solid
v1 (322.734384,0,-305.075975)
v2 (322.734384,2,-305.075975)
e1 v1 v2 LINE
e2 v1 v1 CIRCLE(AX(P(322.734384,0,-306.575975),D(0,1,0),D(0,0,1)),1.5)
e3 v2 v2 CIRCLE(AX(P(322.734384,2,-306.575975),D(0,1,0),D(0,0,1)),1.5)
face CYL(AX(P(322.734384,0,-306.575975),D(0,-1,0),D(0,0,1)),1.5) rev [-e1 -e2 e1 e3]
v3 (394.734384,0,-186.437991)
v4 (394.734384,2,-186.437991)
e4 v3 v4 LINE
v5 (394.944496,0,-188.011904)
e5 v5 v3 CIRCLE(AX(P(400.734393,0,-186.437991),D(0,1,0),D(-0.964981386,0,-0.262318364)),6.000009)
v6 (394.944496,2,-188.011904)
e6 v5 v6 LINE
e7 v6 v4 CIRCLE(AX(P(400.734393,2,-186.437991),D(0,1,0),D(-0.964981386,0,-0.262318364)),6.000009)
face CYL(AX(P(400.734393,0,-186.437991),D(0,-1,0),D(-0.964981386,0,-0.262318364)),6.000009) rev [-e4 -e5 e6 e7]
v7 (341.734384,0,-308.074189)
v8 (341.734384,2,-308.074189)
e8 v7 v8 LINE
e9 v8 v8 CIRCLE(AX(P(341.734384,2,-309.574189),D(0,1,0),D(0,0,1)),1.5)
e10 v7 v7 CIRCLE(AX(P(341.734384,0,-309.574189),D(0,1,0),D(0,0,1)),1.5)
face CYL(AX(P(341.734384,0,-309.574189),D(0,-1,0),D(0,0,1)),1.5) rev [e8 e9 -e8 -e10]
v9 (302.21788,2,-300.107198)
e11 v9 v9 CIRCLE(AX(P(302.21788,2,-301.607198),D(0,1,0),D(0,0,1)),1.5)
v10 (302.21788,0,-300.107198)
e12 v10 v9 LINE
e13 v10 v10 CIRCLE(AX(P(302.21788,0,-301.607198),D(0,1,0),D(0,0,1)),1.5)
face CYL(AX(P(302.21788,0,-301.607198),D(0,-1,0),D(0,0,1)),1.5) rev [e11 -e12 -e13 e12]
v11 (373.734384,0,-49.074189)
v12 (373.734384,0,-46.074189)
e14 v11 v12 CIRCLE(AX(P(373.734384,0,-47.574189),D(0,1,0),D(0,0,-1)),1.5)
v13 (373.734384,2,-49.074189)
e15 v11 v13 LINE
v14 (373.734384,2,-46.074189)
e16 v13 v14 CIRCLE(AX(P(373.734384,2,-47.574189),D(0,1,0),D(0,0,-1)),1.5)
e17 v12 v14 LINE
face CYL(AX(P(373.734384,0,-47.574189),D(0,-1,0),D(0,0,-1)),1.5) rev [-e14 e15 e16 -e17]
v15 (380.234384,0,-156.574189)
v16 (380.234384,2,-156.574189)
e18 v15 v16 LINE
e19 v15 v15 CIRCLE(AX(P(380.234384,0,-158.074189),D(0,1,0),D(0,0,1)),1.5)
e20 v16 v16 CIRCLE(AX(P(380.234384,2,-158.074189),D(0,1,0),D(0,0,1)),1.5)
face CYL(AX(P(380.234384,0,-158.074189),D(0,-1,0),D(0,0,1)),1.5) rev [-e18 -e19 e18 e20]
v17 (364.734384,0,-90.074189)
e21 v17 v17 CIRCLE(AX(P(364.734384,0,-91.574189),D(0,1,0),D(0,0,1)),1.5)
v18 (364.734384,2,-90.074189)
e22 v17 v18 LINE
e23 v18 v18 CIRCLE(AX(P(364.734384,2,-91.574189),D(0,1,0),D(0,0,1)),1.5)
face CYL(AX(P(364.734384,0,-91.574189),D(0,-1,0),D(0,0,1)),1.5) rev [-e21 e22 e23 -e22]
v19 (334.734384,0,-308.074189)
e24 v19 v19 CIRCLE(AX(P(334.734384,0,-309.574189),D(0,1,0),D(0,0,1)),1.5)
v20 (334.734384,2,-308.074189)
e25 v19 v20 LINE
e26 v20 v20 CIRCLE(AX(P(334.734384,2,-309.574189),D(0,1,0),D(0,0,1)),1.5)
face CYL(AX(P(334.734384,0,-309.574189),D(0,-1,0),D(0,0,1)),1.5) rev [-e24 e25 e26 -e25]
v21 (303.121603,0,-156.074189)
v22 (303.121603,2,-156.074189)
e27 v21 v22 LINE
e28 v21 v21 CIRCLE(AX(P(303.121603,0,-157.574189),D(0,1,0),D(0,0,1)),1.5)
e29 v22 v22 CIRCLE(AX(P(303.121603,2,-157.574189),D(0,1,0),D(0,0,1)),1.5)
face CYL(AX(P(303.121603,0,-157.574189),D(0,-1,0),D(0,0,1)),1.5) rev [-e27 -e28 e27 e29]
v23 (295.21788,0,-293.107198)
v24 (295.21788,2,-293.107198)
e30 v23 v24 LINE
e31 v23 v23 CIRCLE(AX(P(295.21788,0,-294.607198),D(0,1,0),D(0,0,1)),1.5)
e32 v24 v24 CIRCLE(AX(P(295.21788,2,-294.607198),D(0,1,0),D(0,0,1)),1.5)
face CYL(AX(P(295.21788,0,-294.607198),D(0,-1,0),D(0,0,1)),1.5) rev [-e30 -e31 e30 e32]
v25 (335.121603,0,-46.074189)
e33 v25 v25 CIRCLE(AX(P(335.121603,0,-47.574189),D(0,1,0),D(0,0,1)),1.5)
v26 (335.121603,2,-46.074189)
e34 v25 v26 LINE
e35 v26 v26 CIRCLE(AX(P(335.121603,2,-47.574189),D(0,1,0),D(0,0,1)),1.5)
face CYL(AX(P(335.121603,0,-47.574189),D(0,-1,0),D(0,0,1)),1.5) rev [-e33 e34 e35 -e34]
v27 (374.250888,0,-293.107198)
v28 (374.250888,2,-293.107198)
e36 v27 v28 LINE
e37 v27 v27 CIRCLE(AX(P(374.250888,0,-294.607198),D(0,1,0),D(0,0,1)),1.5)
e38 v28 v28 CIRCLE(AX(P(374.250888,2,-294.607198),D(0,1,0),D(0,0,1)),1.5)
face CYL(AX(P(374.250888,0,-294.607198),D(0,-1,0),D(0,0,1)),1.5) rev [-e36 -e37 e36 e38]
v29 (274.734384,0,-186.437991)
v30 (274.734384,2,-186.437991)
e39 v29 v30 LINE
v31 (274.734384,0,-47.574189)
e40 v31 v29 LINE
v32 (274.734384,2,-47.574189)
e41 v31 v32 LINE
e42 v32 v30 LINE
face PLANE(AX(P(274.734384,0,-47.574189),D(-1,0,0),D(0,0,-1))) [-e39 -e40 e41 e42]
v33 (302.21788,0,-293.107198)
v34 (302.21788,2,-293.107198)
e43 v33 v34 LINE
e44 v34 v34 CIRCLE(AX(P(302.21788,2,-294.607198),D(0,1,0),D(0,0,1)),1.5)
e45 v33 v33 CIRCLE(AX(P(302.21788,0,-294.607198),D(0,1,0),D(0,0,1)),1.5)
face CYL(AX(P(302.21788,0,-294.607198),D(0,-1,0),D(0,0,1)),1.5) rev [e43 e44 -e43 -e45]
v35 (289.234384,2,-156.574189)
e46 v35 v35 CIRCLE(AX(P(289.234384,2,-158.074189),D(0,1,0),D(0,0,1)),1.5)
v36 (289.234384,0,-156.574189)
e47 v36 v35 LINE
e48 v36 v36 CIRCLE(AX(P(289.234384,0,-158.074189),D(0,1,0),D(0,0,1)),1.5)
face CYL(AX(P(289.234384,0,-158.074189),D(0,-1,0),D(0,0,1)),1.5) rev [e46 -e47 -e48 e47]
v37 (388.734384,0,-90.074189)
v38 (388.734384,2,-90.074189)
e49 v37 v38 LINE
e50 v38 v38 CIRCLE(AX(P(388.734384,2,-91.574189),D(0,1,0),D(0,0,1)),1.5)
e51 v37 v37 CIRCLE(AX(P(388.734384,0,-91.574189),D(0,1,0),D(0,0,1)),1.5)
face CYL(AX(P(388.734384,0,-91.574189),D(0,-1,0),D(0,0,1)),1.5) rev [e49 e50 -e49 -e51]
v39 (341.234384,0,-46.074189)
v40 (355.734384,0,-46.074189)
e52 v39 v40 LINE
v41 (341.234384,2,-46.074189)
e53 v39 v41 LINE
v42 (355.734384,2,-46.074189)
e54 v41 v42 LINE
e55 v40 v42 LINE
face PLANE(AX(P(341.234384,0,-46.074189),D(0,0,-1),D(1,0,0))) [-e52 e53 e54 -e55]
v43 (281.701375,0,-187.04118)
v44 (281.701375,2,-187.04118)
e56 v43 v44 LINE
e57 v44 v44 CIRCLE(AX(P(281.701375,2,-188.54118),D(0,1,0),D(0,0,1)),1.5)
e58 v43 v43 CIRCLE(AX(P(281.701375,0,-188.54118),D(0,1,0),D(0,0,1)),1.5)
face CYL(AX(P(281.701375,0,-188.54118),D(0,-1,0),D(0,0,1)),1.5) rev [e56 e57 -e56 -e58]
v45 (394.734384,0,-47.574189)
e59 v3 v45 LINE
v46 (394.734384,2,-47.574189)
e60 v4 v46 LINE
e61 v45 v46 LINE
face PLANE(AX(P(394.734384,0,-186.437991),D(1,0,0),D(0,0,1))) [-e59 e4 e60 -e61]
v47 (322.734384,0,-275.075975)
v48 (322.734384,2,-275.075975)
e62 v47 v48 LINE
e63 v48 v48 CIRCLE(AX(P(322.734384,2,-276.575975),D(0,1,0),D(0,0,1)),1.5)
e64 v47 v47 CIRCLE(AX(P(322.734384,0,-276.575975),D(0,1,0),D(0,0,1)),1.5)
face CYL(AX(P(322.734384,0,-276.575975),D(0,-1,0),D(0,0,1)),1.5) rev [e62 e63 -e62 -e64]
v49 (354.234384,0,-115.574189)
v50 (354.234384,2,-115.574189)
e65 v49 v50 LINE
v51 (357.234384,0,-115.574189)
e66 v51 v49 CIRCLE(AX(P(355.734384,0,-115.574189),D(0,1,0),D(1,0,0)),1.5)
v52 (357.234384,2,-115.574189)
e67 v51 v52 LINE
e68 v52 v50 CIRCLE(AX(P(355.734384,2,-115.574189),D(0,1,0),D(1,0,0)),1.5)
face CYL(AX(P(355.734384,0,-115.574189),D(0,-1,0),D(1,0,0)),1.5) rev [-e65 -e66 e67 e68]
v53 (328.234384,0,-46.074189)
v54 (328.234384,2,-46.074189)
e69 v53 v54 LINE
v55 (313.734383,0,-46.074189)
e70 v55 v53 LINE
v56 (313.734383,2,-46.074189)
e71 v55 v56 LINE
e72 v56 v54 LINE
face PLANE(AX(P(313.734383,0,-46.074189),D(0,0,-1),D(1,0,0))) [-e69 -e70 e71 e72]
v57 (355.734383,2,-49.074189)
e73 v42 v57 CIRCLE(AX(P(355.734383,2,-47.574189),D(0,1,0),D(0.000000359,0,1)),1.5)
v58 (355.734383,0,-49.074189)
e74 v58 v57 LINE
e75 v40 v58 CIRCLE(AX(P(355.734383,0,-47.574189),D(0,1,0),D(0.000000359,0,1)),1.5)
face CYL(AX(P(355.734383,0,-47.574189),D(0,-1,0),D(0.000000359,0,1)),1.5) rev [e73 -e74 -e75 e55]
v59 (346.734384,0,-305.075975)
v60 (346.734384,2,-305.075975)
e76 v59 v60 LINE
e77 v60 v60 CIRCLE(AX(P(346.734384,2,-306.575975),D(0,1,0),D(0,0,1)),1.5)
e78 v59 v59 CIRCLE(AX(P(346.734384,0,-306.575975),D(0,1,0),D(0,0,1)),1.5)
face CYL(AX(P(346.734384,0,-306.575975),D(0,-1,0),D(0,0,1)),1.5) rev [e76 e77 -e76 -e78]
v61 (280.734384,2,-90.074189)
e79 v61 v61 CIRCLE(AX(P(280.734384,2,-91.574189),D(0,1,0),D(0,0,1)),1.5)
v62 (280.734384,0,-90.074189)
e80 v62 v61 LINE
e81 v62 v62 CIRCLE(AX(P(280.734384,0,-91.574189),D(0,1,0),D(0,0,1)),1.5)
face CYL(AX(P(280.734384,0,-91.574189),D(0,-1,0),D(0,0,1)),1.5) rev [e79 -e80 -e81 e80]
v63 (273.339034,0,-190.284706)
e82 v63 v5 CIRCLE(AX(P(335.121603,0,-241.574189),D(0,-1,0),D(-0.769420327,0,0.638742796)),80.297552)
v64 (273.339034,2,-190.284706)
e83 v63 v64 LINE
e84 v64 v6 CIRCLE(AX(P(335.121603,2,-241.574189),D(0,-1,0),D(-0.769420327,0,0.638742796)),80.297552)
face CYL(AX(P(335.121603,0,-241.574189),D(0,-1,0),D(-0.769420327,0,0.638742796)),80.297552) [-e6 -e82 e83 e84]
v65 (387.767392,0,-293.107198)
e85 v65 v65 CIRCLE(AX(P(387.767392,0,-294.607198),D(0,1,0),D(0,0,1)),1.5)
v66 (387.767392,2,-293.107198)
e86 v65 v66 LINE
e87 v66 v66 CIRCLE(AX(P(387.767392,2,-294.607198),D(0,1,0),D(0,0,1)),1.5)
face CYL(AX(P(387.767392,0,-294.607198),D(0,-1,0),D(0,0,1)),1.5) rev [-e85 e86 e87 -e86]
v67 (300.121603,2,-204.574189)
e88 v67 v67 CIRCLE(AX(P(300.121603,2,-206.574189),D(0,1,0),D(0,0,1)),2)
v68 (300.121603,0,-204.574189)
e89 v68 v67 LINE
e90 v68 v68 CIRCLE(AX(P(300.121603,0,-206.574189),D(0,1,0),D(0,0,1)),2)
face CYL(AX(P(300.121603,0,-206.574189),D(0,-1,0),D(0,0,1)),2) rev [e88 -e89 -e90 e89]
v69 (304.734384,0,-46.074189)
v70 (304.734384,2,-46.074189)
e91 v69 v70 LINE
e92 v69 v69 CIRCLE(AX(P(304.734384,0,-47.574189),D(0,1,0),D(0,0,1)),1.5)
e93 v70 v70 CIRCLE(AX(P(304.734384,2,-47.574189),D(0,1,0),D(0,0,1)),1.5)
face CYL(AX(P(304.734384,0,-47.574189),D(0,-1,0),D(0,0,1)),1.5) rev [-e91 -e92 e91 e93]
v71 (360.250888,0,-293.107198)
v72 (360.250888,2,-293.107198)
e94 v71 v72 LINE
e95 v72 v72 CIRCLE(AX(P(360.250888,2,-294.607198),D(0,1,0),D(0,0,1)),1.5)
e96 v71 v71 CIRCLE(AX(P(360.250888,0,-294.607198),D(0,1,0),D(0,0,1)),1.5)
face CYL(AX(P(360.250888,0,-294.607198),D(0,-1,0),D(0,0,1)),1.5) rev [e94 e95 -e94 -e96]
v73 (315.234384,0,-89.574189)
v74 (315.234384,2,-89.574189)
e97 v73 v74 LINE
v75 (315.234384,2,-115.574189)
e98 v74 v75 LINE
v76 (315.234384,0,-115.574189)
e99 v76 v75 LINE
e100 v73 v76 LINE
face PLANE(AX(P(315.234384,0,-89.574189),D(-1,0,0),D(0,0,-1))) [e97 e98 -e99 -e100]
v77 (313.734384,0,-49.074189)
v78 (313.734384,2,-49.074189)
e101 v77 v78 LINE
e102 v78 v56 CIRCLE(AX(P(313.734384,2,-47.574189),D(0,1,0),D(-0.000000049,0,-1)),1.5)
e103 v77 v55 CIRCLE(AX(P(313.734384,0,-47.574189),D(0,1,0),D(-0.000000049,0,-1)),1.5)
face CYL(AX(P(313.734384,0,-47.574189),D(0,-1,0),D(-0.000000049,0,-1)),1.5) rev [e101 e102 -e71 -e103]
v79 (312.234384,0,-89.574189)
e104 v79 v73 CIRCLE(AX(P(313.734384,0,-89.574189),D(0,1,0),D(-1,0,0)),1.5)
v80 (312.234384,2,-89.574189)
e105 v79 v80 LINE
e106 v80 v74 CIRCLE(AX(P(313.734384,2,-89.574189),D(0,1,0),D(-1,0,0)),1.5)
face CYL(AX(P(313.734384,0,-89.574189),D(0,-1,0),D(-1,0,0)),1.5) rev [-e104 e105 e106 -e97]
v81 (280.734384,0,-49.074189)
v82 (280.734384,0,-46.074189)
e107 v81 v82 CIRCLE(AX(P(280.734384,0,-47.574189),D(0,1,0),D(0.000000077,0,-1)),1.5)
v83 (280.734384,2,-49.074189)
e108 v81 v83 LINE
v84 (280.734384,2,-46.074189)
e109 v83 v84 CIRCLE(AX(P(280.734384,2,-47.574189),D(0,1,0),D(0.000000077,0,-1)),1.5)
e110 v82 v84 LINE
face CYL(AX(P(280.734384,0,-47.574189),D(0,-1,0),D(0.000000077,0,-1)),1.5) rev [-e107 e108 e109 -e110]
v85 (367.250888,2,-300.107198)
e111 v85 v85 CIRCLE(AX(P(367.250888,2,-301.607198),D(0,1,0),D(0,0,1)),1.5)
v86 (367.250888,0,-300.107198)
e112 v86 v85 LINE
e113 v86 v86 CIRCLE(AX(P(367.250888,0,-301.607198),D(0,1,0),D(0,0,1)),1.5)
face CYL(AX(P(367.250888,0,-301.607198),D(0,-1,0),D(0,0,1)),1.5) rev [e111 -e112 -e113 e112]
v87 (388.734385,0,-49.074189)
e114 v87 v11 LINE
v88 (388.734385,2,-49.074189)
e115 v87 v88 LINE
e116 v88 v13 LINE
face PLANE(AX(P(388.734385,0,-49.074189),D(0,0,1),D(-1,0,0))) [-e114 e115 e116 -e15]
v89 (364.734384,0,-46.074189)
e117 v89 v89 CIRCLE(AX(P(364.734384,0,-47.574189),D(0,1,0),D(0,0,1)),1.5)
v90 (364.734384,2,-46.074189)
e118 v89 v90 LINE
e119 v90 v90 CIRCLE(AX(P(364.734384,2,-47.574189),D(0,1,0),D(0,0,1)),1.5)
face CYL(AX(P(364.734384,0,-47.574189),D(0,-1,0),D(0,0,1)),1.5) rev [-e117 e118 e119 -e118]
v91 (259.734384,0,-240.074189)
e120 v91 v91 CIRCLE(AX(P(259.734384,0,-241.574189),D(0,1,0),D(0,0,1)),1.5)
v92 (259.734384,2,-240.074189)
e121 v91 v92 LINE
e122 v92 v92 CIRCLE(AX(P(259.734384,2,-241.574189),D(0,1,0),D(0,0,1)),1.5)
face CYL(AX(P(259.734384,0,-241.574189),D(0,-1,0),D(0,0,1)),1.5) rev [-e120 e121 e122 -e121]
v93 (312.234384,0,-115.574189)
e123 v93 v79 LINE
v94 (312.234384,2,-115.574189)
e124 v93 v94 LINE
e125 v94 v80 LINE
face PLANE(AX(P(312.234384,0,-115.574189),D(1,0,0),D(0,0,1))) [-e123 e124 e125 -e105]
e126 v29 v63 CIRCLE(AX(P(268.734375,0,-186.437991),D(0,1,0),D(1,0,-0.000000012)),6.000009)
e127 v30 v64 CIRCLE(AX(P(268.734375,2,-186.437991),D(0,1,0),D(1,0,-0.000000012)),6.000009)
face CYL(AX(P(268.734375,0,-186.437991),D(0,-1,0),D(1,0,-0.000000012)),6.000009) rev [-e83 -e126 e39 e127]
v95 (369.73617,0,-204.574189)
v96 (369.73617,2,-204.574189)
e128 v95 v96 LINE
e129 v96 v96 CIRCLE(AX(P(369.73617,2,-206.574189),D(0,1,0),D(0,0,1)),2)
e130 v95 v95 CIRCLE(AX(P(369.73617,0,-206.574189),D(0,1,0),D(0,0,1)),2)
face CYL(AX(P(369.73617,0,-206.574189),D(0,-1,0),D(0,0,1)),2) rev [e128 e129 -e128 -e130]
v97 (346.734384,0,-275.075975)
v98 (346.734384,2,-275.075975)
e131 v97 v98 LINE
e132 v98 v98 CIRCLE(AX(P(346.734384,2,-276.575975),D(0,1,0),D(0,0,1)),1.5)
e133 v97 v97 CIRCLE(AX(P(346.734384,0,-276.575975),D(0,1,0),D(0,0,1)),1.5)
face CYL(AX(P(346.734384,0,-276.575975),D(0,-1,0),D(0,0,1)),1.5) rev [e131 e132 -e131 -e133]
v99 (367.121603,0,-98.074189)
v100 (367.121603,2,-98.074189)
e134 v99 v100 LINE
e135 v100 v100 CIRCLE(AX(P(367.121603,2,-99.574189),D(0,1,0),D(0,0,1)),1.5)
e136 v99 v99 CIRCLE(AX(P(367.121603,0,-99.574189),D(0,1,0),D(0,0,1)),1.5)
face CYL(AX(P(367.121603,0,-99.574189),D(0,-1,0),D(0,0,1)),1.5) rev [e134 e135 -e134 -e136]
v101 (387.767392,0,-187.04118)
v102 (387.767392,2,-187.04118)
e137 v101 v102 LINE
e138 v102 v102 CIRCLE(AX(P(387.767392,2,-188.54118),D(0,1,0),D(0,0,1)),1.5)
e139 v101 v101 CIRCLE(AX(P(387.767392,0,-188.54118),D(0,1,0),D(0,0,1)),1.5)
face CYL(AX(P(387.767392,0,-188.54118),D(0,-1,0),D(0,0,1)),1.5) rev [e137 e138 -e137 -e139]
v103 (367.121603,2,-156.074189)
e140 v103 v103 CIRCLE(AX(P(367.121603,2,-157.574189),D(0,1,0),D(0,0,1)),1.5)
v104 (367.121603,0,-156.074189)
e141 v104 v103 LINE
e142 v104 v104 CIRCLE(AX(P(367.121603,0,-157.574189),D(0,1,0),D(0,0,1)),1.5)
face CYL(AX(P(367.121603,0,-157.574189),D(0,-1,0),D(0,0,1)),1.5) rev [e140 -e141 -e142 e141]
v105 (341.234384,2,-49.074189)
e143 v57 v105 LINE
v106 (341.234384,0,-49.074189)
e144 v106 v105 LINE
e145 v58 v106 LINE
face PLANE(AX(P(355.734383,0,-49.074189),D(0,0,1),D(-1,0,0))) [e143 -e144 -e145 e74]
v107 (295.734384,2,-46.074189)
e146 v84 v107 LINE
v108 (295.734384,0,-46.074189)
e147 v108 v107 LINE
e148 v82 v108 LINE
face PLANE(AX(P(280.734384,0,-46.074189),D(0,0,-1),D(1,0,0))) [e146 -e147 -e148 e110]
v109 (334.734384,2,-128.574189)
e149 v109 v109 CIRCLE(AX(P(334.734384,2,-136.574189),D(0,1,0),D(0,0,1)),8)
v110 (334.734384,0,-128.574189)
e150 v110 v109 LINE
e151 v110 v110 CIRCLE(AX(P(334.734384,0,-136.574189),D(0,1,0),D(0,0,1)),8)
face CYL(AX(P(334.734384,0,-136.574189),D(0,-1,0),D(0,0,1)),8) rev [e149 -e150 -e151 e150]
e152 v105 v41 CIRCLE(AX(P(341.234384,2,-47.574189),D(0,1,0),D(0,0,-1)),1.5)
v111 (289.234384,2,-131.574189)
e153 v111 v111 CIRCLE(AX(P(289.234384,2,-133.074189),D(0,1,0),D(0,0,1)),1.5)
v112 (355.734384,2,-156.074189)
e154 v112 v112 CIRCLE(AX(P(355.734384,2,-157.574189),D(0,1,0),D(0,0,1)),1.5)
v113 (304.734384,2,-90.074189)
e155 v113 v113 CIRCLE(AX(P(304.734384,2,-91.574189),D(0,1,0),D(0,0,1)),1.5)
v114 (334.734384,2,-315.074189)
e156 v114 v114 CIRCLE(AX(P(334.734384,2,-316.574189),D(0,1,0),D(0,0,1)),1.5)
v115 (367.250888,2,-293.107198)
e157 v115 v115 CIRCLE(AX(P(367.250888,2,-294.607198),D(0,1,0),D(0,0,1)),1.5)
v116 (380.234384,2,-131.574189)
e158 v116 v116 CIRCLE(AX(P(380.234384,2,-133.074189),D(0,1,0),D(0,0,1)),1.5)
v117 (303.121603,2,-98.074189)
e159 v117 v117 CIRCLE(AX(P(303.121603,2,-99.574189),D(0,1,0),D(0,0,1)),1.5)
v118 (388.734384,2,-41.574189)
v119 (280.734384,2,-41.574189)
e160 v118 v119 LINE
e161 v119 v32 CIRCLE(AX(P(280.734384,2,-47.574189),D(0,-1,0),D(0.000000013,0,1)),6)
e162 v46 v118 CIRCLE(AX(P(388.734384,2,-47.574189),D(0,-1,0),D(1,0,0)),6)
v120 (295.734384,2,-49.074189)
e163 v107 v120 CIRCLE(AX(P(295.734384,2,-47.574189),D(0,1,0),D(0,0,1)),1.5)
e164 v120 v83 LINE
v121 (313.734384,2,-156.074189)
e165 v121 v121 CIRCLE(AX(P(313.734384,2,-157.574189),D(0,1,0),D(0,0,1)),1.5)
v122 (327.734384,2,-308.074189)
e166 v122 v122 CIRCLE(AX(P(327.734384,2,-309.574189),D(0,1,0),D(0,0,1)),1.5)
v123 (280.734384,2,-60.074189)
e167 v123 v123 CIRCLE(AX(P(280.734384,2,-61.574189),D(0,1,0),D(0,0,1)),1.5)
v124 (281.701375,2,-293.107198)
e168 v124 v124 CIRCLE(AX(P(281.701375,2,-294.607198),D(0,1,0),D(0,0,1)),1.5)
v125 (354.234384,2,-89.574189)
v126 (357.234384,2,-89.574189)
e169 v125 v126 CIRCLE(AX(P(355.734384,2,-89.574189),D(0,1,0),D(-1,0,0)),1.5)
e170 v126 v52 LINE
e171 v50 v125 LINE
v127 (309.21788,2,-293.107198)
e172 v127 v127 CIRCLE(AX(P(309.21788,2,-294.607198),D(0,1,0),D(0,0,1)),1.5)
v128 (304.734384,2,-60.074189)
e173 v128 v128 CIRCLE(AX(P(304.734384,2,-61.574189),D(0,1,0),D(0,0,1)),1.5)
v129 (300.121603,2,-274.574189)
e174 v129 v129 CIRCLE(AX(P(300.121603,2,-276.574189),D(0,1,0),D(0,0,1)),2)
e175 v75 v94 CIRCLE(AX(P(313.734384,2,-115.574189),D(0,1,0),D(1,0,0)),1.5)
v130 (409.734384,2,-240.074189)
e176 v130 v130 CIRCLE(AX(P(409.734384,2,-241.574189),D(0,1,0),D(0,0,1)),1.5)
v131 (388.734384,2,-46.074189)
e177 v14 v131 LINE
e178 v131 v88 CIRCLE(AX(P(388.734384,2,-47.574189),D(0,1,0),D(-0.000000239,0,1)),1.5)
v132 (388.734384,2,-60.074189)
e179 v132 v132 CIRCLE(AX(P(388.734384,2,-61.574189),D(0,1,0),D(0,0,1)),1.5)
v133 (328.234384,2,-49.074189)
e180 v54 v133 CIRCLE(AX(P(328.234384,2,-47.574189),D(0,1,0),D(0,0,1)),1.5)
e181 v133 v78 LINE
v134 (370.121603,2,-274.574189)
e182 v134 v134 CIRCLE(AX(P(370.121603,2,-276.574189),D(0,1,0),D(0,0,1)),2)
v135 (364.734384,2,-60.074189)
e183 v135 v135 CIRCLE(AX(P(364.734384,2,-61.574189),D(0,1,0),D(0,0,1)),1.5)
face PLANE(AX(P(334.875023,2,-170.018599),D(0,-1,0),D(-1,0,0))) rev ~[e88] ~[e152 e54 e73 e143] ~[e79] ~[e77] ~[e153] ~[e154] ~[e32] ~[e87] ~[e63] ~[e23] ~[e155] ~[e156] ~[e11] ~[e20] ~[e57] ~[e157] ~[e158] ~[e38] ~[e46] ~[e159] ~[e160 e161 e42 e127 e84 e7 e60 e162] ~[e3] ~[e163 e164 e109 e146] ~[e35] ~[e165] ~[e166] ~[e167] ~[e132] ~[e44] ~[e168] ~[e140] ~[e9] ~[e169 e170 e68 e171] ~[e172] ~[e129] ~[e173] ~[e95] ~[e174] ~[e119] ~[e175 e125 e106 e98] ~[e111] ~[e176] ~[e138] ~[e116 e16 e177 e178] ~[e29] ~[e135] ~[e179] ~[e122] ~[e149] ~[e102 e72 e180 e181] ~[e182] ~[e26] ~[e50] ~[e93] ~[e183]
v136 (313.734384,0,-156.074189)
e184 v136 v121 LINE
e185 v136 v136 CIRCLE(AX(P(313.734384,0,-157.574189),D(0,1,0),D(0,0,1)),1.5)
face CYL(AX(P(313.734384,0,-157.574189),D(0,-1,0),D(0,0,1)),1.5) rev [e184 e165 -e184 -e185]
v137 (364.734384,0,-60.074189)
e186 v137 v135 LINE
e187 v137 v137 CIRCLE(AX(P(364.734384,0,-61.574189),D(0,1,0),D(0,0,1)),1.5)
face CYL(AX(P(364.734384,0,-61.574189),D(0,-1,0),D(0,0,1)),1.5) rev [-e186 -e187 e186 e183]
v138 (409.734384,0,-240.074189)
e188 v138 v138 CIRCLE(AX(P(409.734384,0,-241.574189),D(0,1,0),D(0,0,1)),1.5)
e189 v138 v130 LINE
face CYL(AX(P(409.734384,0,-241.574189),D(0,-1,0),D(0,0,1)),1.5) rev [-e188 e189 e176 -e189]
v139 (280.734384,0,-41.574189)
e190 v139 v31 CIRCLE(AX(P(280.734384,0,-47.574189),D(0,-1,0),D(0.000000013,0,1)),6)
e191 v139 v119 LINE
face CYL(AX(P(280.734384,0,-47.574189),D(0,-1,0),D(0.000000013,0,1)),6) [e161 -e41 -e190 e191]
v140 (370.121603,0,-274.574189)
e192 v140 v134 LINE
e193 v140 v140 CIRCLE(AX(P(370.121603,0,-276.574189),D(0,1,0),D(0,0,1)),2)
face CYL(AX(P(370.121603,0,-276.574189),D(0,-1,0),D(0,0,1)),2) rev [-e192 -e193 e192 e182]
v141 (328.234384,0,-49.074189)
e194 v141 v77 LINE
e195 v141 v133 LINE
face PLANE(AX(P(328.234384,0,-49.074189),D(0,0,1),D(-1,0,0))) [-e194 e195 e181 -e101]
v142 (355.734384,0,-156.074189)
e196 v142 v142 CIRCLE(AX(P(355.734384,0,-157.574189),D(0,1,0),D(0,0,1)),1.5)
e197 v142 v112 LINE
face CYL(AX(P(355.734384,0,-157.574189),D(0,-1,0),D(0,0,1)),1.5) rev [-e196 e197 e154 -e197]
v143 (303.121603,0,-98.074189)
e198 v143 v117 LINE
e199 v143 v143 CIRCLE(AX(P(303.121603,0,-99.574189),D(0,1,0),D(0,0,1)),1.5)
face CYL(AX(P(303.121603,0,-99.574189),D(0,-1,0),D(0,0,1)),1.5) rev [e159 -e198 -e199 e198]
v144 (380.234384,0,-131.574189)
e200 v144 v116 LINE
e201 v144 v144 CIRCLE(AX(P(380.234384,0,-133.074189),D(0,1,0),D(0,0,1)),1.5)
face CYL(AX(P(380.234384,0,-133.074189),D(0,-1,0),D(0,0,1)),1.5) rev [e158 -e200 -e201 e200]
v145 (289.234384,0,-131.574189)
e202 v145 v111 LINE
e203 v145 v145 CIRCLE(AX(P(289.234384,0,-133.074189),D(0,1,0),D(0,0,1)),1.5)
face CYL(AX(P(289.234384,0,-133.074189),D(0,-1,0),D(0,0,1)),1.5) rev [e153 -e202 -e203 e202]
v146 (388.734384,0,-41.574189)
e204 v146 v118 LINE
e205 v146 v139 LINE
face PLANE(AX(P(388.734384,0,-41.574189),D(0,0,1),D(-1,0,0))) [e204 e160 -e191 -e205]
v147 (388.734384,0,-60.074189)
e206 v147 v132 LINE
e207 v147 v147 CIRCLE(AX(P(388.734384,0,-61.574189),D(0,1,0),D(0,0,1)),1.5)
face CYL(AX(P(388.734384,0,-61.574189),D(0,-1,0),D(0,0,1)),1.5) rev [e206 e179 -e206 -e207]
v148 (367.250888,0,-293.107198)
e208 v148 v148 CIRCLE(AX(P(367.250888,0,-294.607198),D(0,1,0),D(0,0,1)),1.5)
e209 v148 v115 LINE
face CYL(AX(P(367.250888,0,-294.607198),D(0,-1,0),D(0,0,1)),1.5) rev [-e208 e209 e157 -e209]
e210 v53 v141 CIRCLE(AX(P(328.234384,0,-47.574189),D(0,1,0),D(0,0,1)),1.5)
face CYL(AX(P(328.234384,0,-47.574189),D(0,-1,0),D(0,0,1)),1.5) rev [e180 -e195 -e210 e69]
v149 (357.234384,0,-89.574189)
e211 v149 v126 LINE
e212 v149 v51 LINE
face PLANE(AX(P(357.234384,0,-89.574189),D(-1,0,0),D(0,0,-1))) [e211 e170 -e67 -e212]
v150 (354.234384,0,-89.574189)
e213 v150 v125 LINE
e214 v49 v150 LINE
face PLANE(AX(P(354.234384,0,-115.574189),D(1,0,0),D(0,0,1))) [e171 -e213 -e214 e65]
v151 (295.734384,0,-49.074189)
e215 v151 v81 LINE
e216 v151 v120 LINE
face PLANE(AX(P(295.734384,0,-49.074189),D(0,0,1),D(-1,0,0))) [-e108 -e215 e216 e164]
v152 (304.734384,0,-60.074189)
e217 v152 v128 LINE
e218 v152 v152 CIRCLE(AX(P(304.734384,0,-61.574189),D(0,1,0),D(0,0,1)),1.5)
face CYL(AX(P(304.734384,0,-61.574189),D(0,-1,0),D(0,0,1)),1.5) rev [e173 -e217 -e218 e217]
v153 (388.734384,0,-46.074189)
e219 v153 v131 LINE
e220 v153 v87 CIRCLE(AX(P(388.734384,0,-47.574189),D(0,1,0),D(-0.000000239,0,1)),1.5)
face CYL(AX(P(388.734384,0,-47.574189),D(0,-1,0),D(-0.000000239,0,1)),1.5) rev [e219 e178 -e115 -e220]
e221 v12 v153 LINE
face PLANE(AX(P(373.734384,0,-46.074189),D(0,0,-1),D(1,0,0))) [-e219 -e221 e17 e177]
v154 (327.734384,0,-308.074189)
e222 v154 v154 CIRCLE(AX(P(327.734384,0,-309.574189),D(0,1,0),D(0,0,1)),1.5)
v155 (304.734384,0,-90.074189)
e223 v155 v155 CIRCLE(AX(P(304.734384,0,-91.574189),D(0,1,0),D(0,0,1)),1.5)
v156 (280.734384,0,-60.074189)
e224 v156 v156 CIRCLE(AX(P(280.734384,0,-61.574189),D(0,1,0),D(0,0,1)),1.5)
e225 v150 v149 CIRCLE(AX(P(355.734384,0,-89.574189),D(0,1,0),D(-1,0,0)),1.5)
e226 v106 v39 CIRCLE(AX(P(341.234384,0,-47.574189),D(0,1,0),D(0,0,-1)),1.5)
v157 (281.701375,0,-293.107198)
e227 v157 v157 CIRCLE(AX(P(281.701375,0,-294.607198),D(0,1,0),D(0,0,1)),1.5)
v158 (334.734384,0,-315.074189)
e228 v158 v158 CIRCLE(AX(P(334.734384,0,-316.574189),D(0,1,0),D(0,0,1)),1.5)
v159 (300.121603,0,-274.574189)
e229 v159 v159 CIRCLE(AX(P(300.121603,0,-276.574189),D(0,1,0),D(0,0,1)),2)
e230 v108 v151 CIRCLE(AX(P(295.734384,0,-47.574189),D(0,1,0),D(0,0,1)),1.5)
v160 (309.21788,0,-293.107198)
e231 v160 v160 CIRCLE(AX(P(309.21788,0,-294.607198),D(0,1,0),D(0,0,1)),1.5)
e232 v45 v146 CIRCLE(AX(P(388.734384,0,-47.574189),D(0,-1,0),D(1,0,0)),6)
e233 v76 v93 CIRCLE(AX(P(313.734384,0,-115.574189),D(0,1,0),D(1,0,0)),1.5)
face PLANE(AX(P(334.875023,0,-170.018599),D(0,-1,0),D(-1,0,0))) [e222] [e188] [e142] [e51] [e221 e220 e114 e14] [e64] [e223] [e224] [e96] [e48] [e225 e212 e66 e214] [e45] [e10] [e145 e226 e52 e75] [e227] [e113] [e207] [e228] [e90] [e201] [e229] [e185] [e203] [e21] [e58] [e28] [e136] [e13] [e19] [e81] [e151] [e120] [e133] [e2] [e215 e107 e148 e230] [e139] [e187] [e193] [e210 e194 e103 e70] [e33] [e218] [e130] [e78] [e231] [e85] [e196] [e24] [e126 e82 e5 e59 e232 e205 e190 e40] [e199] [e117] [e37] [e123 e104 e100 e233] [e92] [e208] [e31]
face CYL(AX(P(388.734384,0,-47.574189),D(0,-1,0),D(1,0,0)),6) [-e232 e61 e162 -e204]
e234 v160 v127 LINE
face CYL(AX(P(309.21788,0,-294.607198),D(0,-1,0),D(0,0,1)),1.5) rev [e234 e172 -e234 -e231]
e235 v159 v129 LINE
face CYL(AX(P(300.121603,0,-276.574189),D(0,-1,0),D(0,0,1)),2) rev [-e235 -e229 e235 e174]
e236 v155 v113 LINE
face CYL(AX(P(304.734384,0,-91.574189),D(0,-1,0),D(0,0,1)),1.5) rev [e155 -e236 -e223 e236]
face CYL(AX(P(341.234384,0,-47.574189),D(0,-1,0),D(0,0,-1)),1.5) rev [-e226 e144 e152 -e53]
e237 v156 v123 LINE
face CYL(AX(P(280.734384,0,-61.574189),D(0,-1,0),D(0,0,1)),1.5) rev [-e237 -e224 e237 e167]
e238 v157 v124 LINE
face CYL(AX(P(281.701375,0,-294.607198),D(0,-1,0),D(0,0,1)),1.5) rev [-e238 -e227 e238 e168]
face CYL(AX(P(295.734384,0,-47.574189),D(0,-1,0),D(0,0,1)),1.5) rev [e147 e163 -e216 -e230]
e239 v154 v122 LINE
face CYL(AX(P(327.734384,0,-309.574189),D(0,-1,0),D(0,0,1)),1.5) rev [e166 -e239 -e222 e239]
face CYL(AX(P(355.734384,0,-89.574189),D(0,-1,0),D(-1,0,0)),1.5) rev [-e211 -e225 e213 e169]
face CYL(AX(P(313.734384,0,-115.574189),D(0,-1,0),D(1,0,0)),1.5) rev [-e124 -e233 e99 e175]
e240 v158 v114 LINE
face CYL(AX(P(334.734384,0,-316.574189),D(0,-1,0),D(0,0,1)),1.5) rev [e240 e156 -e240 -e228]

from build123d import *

# Parameters (mm, degrees)
SKETCH_1_R      = 2
SKETCH_1_R_2    = 1.5
SKETCH_1_R_3    = 8
EXTRUDE_1_DEPTH = 2


with BuildPart() as part:
    # 草图1 → 凸台-拉伸1 (new body)
    with BuildSketch(Plane(origin=(0, 0, 0), x_dir=(1, 0, 0), z_dir=(0, 1, 0))):
        with BuildLine():
            Line((394.734384308, 186.437991397), (394.734384308, 47.57418904))
            ThreePointArc((394.734384308, 47.57418904), (392.977024848, 43.331548206), (388.734383891, 41.574189041))
            Line((388.734383891, 41.574189041), (280.734383891, 41.574189041))
            ThreePointArc((280.734383891, 41.574189041), (276.491743156, 43.331548327), (274.734383818, 47.57418904))
            Line((274.734383818, 47.57418904), (274.734383818, 186.437990955))
            ThreePointArc((274.734383818, 186.437990955), (274.374769614, 188.48397581), (273.339034443, 190.284705955))
            ThreePointArc((273.339034443, 190.284705955), (336.622100005, 321.857720451), (394.944496295, 188.011903851))
            ThreePointArc((394.944496295, 188.011903851), (394.787144273, 187.231928967), (394.734384308, 186.437991397))
        make_face()
        with Locations(Location((370.121603429, 276.574189041, 0), (0, 0, 270))):
            Circle(SKETCH_1_R, mode=Mode.SUBTRACT)
        with Locations(Location((369.73616956, 206.574189041, 0), (0, 0, 270))):
            Circle(SKETCH_1_R, mode=Mode.SUBTRACT)
        with Locations(Location((300.121603429, 206.574189041, 0), (0, 0, 270))):
            Circle(SKETCH_1_R, mode=Mode.SUBTRACT)
        with Locations(Location((313.734383891, 157.57418904, 0), (0, 0, 270))):
            Circle(SKETCH_1_R_2, mode=Mode.SUBTRACT)
        with Locations(Location((355.734383891, 157.57418904, 0), (0, 0, 270))):
            Circle(SKETCH_1_R_2, mode=Mode.SUBTRACT)
        with Locations(Location((380.234383891, 133.07418904, 0), (0, 0, 270))):
            Circle(SKETCH_1_R_2, mode=Mode.SUBTRACT)
        with Locations(Location((380.234383891, 158.07418904, 0), (0, 0, 270))):
            Circle(SKETCH_1_R_2, mode=Mode.SUBTRACT)
        with Locations(Location((364.734383891, 61.57418904, 0), (0, 0, 270))):
            Circle(SKETCH_1_R_2, mode=Mode.SUBTRACT)
        with Locations(Location((388.734383891, 61.57418904, 0), (0, 0, 270))):
            Circle(SKETCH_1_R_2, mode=Mode.SUBTRACT)
        with Locations(Location((364.734383891, 91.57418904, 0), (0, 0, 270))):
            Circle(SKETCH_1_R_2, mode=Mode.SUBTRACT)
        with Locations(Location((388.734383891, 91.57418904, 0), (0, 0, 270))):
            Circle(SKETCH_1_R_2, mode=Mode.SUBTRACT)
        with Locations(Location((304.734383891, 61.57418904, 0), (0, 0, 270))):
            Circle(SKETCH_1_R_2, mode=Mode.SUBTRACT)
        with Locations(Location((280.734383891, 61.57418904, 0), (0, 0, 270))):
            Circle(SKETCH_1_R_2, mode=Mode.SUBTRACT)
        with Locations(Location((304.734383891, 91.57418904, 0), (0, 0, 270))):
            Circle(SKETCH_1_R_2, mode=Mode.SUBTRACT)
        with Locations(Location((280.734383891, 91.57418904, 0), (0, 0, 270))):
            Circle(SKETCH_1_R_2, mode=Mode.SUBTRACT)
        with Locations(Location((334.734383891, 316.57418904, 0), (0, 0, 270))):
            Circle(SKETCH_1_R_2, mode=Mode.SUBTRACT)
        with Locations(Location((281.701375302, 294.607197629, 0), (0, 0, 270))):
            Circle(SKETCH_1_R_2, mode=Mode.SUBTRACT)
        with Locations(Location((259.734383891, 241.574189041, 0), (0, 0, 270))):
            Circle(SKETCH_1_R_2, mode=Mode.SUBTRACT)
        with Locations(Location((281.701375302, 188.541180451, 0), (0, 0, 270))):
            Circle(SKETCH_1_R_2, mode=Mode.SUBTRACT)
        with Locations(Location((387.76739248, 188.541180451, 0), (0, 0, 270))):
            Circle(SKETCH_1_R_2, mode=Mode.SUBTRACT)
        with Locations(Location((409.734383891, 241.574189041, 0), (0, 0, 270))):
            Circle(SKETCH_1_R_2, mode=Mode.SUBTRACT)
        with Locations(Location((387.76739248, 294.607197629, 0), (0, 0, 270))):
            Circle(SKETCH_1_R_2, mode=Mode.SUBTRACT)
        with Locations(Location((322.734383891, 306.575974709, 0), (0, 0, 270))):
            Circle(SKETCH_1_R_2, mode=Mode.SUBTRACT)
        with Locations(Location((346.734383891, 306.575974709, 0), (0, 0, 270))):
            Circle(SKETCH_1_R_2, mode=Mode.SUBTRACT)
        with Locations(Location((322.734383891, 276.575974709, 0), (0, 0, 270))):
            Circle(SKETCH_1_R_2, mode=Mode.SUBTRACT)
        with Locations(Location((346.734383891, 276.575974709, 0), (0, 0, 270))):
            Circle(SKETCH_1_R_2, mode=Mode.SUBTRACT)
        with Locations(Location((334.734383891, 309.57418904, 0), (0, 0, 270))):
            Circle(SKETCH_1_R_2, mode=Mode.SUBTRACT)
        with Locations(Location((341.734383891, 309.57418904, 0), (0, 0, 270))):
            Circle(SKETCH_1_R_2, mode=Mode.SUBTRACT)
        with Locations(Location((327.734383891, 309.57418904, 0), (0, 0, 270))):
            Circle(SKETCH_1_R_2, mode=Mode.SUBTRACT)
        with Locations(Location((302.217879596, 301.607197629, 0), (0, 0, 270))):
            Circle(SKETCH_1_R_2, mode=Mode.SUBTRACT)
        with Locations(Location((302.217879596, 294.607197629, 0), (0, 0, 270))):
            Circle(SKETCH_1_R_2, mode=Mode.SUBTRACT)
        with Locations(Location((309.217879596, 294.607197629, 0), (0, 0, 270))):
            Circle(SKETCH_1_R_2, mode=Mode.SUBTRACT)
        with Locations(Location((295.217879596, 294.607197629, 0), (0, 0, 270))):
            Circle(SKETCH_1_R_2, mode=Mode.SUBTRACT)
        with Locations(Location((367.250888185, 301.607197629, 0), (0, 0, 270))):
            Circle(SKETCH_1_R_2, mode=Mode.SUBTRACT)
        with Locations(Location((367.250888185, 294.607197629, 0), (0, 0, 270))):
            Circle(SKETCH_1_R_2, mode=Mode.SUBTRACT)
        with Locations(Location((360.250888185, 294.607197629, 0), (0, 0, 270))):
            Circle(SKETCH_1_R_2, mode=Mode.SUBTRACT)
        with Locations(Location((374.250888185, 294.607197629, 0), (0, 0, 270))):
            Circle(SKETCH_1_R_2, mode=Mode.SUBTRACT)
        with Locations(Location((289.234383891, 133.07418904, 0), (0, 0, 270))):
            Circle(SKETCH_1_R_2, mode=Mode.SUBTRACT)
        with Locations(Location((289.234383891, 158.07418904, 0), (0, 0, 270))):
            Circle(SKETCH_1_R_2, mode=Mode.SUBTRACT)
        with Locations(Location((304.734383891, 47.57418904, 0), (0, 0, 270))):
            Circle(SKETCH_1_R_2, mode=Mode.SUBTRACT)
        with Locations(Location((364.734383891, 47.57418904, 0), (0, 0, 270))):
            Circle(SKETCH_1_R_2, mode=Mode.SUBTRACT)
        with Locations(Location((335.121603429, 47.57418904, 0), (0, 0, 270))):
            Circle(SKETCH_1_R_2, mode=Mode.SUBTRACT)
        with Locations(Location((334.734383891, 136.57418904, 0), (0, 0, 270))):
            Circle(SKETCH_1_R_3, mode=Mode.SUBTRACT)
        with Locations(Location((300.121603429, 276.574189041, 0), (0, 0, 270))):
            Circle(SKETCH_1_R, mode=Mode.SUBTRACT)
        with Locations(Location((367.121603429, 157.57418904, 0), (0, 0, 270))):
            Circle(SKETCH_1_R_2, mode=Mode.SUBTRACT)
        with Locations(Location((367.121603429, 99.57418904, 0), (0, 0, 270))):
            Circle(SKETCH_1_R_2, mode=Mode.SUBTRACT)
        with Locations(Location((303.121603429, 157.57418904, 0), (0, 0, 270))):
            Circle(SKETCH_1_R_2, mode=Mode.SUBTRACT)
        with Locations(Location((303.121603429, 99.57418904, 0), (0, 0, 270))):
            Circle(SKETCH_1_R_2, mode=Mode.SUBTRACT)
        with BuildLine():
            Line((354.234383891, 115.57418904), (354.234383891, 89.57418904))
            ThreePointArc((354.234383891, 89.57418904), (355.734383891, 88.07418904), (357.234383891, 89.57418904))
            Line((357.234383891, 89.57418904), (357.234383891, 115.57418904))
            ThreePointArc((357.234383891, 115.57418904), (355.734383891, 117.07418904), (354.234383891, 115.57418904))
        make_face(mode=Mode.SUBTRACT)
        with BuildLine():
            Line((312.234383891, 115.57418904), (312.234383891, 89.57418904))
            ThreePointArc((312.234383891, 89.57418904), (313.734383891, 88.07418904), (315.234383891, 89.57418904))
            Line((315.234383891, 89.57418904), (315.234383891, 115.57418904))
            ThreePointArc((315.234383891, 115.57418904), (313.734383891, 117.07418904), (312.234383891, 115.57418904))
        make_face(mode=Mode.SUBTRACT)
        with BuildLine():
            Line((373.73438389, 46.07418904), (388.734383949, 46.07418904))
            ThreePointArc((388.734383949, 46.07418904), (390.234384308, 47.574188681), (388.734384668, 49.07418904))
            Line((388.734384668, 49.07418904), (373.734383891, 49.07418904))
            ThreePointArc((373.734383891, 49.07418904), (372.234383891, 47.574189041), (373.73438389, 46.07418904))
        make_face(mode=Mode.SUBTRACT)
        with BuildLine():
            Line((295.734383891, 49.07418904), (280.734383933, 49.07418904))
            ThreePointArc((280.734383933, 49.07418904), (279.234383817, 47.574189156), (280.734383701, 46.07418904))
            Line((280.734383701, 46.07418904), (295.734383891, 46.07418904))
            ThreePointArc((295.734383891, 46.07418904), (297.234383891, 47.57418904), (295.734383891, 49.07418904))
        make_face(mode=Mode.SUBTRACT)
        with BuildLine():
            Line((341.23438389, 46.07418904), (355.734383901, 46.07418904))
            ThreePointArc((355.734383901, 46.07418904), (357.234383363, 47.574189579), (355.734382825, 49.07418904))
            Line((355.734382825, 49.07418904), (341.234383891, 49.07418904))
            ThreePointArc((341.234383891, 49.07418904), (339.734383891, 47.574189041), (341.23438389, 46.07418904))
        make_face(mode=Mode.SUBTRACT)
        with BuildLine():
            Line((328.234383891, 49.07418904), (313.734383817, 49.07418904))
            ThreePointArc((313.734383817, 49.07418904), (312.234383891, 47.5741895), (313.734382898, 46.07418904))
            Line((313.734382898, 46.07418904), (328.234383891, 46.07418904))
            ThreePointArc((328.234383891, 46.07418904), (329.734383891, 47.57418904), (328.234383891, 49.07418904))
        make_face(mode=Mode.SUBTRACT)
    extrude(amount=EXTRUDE_1_DEPTH)


solid = part.part
